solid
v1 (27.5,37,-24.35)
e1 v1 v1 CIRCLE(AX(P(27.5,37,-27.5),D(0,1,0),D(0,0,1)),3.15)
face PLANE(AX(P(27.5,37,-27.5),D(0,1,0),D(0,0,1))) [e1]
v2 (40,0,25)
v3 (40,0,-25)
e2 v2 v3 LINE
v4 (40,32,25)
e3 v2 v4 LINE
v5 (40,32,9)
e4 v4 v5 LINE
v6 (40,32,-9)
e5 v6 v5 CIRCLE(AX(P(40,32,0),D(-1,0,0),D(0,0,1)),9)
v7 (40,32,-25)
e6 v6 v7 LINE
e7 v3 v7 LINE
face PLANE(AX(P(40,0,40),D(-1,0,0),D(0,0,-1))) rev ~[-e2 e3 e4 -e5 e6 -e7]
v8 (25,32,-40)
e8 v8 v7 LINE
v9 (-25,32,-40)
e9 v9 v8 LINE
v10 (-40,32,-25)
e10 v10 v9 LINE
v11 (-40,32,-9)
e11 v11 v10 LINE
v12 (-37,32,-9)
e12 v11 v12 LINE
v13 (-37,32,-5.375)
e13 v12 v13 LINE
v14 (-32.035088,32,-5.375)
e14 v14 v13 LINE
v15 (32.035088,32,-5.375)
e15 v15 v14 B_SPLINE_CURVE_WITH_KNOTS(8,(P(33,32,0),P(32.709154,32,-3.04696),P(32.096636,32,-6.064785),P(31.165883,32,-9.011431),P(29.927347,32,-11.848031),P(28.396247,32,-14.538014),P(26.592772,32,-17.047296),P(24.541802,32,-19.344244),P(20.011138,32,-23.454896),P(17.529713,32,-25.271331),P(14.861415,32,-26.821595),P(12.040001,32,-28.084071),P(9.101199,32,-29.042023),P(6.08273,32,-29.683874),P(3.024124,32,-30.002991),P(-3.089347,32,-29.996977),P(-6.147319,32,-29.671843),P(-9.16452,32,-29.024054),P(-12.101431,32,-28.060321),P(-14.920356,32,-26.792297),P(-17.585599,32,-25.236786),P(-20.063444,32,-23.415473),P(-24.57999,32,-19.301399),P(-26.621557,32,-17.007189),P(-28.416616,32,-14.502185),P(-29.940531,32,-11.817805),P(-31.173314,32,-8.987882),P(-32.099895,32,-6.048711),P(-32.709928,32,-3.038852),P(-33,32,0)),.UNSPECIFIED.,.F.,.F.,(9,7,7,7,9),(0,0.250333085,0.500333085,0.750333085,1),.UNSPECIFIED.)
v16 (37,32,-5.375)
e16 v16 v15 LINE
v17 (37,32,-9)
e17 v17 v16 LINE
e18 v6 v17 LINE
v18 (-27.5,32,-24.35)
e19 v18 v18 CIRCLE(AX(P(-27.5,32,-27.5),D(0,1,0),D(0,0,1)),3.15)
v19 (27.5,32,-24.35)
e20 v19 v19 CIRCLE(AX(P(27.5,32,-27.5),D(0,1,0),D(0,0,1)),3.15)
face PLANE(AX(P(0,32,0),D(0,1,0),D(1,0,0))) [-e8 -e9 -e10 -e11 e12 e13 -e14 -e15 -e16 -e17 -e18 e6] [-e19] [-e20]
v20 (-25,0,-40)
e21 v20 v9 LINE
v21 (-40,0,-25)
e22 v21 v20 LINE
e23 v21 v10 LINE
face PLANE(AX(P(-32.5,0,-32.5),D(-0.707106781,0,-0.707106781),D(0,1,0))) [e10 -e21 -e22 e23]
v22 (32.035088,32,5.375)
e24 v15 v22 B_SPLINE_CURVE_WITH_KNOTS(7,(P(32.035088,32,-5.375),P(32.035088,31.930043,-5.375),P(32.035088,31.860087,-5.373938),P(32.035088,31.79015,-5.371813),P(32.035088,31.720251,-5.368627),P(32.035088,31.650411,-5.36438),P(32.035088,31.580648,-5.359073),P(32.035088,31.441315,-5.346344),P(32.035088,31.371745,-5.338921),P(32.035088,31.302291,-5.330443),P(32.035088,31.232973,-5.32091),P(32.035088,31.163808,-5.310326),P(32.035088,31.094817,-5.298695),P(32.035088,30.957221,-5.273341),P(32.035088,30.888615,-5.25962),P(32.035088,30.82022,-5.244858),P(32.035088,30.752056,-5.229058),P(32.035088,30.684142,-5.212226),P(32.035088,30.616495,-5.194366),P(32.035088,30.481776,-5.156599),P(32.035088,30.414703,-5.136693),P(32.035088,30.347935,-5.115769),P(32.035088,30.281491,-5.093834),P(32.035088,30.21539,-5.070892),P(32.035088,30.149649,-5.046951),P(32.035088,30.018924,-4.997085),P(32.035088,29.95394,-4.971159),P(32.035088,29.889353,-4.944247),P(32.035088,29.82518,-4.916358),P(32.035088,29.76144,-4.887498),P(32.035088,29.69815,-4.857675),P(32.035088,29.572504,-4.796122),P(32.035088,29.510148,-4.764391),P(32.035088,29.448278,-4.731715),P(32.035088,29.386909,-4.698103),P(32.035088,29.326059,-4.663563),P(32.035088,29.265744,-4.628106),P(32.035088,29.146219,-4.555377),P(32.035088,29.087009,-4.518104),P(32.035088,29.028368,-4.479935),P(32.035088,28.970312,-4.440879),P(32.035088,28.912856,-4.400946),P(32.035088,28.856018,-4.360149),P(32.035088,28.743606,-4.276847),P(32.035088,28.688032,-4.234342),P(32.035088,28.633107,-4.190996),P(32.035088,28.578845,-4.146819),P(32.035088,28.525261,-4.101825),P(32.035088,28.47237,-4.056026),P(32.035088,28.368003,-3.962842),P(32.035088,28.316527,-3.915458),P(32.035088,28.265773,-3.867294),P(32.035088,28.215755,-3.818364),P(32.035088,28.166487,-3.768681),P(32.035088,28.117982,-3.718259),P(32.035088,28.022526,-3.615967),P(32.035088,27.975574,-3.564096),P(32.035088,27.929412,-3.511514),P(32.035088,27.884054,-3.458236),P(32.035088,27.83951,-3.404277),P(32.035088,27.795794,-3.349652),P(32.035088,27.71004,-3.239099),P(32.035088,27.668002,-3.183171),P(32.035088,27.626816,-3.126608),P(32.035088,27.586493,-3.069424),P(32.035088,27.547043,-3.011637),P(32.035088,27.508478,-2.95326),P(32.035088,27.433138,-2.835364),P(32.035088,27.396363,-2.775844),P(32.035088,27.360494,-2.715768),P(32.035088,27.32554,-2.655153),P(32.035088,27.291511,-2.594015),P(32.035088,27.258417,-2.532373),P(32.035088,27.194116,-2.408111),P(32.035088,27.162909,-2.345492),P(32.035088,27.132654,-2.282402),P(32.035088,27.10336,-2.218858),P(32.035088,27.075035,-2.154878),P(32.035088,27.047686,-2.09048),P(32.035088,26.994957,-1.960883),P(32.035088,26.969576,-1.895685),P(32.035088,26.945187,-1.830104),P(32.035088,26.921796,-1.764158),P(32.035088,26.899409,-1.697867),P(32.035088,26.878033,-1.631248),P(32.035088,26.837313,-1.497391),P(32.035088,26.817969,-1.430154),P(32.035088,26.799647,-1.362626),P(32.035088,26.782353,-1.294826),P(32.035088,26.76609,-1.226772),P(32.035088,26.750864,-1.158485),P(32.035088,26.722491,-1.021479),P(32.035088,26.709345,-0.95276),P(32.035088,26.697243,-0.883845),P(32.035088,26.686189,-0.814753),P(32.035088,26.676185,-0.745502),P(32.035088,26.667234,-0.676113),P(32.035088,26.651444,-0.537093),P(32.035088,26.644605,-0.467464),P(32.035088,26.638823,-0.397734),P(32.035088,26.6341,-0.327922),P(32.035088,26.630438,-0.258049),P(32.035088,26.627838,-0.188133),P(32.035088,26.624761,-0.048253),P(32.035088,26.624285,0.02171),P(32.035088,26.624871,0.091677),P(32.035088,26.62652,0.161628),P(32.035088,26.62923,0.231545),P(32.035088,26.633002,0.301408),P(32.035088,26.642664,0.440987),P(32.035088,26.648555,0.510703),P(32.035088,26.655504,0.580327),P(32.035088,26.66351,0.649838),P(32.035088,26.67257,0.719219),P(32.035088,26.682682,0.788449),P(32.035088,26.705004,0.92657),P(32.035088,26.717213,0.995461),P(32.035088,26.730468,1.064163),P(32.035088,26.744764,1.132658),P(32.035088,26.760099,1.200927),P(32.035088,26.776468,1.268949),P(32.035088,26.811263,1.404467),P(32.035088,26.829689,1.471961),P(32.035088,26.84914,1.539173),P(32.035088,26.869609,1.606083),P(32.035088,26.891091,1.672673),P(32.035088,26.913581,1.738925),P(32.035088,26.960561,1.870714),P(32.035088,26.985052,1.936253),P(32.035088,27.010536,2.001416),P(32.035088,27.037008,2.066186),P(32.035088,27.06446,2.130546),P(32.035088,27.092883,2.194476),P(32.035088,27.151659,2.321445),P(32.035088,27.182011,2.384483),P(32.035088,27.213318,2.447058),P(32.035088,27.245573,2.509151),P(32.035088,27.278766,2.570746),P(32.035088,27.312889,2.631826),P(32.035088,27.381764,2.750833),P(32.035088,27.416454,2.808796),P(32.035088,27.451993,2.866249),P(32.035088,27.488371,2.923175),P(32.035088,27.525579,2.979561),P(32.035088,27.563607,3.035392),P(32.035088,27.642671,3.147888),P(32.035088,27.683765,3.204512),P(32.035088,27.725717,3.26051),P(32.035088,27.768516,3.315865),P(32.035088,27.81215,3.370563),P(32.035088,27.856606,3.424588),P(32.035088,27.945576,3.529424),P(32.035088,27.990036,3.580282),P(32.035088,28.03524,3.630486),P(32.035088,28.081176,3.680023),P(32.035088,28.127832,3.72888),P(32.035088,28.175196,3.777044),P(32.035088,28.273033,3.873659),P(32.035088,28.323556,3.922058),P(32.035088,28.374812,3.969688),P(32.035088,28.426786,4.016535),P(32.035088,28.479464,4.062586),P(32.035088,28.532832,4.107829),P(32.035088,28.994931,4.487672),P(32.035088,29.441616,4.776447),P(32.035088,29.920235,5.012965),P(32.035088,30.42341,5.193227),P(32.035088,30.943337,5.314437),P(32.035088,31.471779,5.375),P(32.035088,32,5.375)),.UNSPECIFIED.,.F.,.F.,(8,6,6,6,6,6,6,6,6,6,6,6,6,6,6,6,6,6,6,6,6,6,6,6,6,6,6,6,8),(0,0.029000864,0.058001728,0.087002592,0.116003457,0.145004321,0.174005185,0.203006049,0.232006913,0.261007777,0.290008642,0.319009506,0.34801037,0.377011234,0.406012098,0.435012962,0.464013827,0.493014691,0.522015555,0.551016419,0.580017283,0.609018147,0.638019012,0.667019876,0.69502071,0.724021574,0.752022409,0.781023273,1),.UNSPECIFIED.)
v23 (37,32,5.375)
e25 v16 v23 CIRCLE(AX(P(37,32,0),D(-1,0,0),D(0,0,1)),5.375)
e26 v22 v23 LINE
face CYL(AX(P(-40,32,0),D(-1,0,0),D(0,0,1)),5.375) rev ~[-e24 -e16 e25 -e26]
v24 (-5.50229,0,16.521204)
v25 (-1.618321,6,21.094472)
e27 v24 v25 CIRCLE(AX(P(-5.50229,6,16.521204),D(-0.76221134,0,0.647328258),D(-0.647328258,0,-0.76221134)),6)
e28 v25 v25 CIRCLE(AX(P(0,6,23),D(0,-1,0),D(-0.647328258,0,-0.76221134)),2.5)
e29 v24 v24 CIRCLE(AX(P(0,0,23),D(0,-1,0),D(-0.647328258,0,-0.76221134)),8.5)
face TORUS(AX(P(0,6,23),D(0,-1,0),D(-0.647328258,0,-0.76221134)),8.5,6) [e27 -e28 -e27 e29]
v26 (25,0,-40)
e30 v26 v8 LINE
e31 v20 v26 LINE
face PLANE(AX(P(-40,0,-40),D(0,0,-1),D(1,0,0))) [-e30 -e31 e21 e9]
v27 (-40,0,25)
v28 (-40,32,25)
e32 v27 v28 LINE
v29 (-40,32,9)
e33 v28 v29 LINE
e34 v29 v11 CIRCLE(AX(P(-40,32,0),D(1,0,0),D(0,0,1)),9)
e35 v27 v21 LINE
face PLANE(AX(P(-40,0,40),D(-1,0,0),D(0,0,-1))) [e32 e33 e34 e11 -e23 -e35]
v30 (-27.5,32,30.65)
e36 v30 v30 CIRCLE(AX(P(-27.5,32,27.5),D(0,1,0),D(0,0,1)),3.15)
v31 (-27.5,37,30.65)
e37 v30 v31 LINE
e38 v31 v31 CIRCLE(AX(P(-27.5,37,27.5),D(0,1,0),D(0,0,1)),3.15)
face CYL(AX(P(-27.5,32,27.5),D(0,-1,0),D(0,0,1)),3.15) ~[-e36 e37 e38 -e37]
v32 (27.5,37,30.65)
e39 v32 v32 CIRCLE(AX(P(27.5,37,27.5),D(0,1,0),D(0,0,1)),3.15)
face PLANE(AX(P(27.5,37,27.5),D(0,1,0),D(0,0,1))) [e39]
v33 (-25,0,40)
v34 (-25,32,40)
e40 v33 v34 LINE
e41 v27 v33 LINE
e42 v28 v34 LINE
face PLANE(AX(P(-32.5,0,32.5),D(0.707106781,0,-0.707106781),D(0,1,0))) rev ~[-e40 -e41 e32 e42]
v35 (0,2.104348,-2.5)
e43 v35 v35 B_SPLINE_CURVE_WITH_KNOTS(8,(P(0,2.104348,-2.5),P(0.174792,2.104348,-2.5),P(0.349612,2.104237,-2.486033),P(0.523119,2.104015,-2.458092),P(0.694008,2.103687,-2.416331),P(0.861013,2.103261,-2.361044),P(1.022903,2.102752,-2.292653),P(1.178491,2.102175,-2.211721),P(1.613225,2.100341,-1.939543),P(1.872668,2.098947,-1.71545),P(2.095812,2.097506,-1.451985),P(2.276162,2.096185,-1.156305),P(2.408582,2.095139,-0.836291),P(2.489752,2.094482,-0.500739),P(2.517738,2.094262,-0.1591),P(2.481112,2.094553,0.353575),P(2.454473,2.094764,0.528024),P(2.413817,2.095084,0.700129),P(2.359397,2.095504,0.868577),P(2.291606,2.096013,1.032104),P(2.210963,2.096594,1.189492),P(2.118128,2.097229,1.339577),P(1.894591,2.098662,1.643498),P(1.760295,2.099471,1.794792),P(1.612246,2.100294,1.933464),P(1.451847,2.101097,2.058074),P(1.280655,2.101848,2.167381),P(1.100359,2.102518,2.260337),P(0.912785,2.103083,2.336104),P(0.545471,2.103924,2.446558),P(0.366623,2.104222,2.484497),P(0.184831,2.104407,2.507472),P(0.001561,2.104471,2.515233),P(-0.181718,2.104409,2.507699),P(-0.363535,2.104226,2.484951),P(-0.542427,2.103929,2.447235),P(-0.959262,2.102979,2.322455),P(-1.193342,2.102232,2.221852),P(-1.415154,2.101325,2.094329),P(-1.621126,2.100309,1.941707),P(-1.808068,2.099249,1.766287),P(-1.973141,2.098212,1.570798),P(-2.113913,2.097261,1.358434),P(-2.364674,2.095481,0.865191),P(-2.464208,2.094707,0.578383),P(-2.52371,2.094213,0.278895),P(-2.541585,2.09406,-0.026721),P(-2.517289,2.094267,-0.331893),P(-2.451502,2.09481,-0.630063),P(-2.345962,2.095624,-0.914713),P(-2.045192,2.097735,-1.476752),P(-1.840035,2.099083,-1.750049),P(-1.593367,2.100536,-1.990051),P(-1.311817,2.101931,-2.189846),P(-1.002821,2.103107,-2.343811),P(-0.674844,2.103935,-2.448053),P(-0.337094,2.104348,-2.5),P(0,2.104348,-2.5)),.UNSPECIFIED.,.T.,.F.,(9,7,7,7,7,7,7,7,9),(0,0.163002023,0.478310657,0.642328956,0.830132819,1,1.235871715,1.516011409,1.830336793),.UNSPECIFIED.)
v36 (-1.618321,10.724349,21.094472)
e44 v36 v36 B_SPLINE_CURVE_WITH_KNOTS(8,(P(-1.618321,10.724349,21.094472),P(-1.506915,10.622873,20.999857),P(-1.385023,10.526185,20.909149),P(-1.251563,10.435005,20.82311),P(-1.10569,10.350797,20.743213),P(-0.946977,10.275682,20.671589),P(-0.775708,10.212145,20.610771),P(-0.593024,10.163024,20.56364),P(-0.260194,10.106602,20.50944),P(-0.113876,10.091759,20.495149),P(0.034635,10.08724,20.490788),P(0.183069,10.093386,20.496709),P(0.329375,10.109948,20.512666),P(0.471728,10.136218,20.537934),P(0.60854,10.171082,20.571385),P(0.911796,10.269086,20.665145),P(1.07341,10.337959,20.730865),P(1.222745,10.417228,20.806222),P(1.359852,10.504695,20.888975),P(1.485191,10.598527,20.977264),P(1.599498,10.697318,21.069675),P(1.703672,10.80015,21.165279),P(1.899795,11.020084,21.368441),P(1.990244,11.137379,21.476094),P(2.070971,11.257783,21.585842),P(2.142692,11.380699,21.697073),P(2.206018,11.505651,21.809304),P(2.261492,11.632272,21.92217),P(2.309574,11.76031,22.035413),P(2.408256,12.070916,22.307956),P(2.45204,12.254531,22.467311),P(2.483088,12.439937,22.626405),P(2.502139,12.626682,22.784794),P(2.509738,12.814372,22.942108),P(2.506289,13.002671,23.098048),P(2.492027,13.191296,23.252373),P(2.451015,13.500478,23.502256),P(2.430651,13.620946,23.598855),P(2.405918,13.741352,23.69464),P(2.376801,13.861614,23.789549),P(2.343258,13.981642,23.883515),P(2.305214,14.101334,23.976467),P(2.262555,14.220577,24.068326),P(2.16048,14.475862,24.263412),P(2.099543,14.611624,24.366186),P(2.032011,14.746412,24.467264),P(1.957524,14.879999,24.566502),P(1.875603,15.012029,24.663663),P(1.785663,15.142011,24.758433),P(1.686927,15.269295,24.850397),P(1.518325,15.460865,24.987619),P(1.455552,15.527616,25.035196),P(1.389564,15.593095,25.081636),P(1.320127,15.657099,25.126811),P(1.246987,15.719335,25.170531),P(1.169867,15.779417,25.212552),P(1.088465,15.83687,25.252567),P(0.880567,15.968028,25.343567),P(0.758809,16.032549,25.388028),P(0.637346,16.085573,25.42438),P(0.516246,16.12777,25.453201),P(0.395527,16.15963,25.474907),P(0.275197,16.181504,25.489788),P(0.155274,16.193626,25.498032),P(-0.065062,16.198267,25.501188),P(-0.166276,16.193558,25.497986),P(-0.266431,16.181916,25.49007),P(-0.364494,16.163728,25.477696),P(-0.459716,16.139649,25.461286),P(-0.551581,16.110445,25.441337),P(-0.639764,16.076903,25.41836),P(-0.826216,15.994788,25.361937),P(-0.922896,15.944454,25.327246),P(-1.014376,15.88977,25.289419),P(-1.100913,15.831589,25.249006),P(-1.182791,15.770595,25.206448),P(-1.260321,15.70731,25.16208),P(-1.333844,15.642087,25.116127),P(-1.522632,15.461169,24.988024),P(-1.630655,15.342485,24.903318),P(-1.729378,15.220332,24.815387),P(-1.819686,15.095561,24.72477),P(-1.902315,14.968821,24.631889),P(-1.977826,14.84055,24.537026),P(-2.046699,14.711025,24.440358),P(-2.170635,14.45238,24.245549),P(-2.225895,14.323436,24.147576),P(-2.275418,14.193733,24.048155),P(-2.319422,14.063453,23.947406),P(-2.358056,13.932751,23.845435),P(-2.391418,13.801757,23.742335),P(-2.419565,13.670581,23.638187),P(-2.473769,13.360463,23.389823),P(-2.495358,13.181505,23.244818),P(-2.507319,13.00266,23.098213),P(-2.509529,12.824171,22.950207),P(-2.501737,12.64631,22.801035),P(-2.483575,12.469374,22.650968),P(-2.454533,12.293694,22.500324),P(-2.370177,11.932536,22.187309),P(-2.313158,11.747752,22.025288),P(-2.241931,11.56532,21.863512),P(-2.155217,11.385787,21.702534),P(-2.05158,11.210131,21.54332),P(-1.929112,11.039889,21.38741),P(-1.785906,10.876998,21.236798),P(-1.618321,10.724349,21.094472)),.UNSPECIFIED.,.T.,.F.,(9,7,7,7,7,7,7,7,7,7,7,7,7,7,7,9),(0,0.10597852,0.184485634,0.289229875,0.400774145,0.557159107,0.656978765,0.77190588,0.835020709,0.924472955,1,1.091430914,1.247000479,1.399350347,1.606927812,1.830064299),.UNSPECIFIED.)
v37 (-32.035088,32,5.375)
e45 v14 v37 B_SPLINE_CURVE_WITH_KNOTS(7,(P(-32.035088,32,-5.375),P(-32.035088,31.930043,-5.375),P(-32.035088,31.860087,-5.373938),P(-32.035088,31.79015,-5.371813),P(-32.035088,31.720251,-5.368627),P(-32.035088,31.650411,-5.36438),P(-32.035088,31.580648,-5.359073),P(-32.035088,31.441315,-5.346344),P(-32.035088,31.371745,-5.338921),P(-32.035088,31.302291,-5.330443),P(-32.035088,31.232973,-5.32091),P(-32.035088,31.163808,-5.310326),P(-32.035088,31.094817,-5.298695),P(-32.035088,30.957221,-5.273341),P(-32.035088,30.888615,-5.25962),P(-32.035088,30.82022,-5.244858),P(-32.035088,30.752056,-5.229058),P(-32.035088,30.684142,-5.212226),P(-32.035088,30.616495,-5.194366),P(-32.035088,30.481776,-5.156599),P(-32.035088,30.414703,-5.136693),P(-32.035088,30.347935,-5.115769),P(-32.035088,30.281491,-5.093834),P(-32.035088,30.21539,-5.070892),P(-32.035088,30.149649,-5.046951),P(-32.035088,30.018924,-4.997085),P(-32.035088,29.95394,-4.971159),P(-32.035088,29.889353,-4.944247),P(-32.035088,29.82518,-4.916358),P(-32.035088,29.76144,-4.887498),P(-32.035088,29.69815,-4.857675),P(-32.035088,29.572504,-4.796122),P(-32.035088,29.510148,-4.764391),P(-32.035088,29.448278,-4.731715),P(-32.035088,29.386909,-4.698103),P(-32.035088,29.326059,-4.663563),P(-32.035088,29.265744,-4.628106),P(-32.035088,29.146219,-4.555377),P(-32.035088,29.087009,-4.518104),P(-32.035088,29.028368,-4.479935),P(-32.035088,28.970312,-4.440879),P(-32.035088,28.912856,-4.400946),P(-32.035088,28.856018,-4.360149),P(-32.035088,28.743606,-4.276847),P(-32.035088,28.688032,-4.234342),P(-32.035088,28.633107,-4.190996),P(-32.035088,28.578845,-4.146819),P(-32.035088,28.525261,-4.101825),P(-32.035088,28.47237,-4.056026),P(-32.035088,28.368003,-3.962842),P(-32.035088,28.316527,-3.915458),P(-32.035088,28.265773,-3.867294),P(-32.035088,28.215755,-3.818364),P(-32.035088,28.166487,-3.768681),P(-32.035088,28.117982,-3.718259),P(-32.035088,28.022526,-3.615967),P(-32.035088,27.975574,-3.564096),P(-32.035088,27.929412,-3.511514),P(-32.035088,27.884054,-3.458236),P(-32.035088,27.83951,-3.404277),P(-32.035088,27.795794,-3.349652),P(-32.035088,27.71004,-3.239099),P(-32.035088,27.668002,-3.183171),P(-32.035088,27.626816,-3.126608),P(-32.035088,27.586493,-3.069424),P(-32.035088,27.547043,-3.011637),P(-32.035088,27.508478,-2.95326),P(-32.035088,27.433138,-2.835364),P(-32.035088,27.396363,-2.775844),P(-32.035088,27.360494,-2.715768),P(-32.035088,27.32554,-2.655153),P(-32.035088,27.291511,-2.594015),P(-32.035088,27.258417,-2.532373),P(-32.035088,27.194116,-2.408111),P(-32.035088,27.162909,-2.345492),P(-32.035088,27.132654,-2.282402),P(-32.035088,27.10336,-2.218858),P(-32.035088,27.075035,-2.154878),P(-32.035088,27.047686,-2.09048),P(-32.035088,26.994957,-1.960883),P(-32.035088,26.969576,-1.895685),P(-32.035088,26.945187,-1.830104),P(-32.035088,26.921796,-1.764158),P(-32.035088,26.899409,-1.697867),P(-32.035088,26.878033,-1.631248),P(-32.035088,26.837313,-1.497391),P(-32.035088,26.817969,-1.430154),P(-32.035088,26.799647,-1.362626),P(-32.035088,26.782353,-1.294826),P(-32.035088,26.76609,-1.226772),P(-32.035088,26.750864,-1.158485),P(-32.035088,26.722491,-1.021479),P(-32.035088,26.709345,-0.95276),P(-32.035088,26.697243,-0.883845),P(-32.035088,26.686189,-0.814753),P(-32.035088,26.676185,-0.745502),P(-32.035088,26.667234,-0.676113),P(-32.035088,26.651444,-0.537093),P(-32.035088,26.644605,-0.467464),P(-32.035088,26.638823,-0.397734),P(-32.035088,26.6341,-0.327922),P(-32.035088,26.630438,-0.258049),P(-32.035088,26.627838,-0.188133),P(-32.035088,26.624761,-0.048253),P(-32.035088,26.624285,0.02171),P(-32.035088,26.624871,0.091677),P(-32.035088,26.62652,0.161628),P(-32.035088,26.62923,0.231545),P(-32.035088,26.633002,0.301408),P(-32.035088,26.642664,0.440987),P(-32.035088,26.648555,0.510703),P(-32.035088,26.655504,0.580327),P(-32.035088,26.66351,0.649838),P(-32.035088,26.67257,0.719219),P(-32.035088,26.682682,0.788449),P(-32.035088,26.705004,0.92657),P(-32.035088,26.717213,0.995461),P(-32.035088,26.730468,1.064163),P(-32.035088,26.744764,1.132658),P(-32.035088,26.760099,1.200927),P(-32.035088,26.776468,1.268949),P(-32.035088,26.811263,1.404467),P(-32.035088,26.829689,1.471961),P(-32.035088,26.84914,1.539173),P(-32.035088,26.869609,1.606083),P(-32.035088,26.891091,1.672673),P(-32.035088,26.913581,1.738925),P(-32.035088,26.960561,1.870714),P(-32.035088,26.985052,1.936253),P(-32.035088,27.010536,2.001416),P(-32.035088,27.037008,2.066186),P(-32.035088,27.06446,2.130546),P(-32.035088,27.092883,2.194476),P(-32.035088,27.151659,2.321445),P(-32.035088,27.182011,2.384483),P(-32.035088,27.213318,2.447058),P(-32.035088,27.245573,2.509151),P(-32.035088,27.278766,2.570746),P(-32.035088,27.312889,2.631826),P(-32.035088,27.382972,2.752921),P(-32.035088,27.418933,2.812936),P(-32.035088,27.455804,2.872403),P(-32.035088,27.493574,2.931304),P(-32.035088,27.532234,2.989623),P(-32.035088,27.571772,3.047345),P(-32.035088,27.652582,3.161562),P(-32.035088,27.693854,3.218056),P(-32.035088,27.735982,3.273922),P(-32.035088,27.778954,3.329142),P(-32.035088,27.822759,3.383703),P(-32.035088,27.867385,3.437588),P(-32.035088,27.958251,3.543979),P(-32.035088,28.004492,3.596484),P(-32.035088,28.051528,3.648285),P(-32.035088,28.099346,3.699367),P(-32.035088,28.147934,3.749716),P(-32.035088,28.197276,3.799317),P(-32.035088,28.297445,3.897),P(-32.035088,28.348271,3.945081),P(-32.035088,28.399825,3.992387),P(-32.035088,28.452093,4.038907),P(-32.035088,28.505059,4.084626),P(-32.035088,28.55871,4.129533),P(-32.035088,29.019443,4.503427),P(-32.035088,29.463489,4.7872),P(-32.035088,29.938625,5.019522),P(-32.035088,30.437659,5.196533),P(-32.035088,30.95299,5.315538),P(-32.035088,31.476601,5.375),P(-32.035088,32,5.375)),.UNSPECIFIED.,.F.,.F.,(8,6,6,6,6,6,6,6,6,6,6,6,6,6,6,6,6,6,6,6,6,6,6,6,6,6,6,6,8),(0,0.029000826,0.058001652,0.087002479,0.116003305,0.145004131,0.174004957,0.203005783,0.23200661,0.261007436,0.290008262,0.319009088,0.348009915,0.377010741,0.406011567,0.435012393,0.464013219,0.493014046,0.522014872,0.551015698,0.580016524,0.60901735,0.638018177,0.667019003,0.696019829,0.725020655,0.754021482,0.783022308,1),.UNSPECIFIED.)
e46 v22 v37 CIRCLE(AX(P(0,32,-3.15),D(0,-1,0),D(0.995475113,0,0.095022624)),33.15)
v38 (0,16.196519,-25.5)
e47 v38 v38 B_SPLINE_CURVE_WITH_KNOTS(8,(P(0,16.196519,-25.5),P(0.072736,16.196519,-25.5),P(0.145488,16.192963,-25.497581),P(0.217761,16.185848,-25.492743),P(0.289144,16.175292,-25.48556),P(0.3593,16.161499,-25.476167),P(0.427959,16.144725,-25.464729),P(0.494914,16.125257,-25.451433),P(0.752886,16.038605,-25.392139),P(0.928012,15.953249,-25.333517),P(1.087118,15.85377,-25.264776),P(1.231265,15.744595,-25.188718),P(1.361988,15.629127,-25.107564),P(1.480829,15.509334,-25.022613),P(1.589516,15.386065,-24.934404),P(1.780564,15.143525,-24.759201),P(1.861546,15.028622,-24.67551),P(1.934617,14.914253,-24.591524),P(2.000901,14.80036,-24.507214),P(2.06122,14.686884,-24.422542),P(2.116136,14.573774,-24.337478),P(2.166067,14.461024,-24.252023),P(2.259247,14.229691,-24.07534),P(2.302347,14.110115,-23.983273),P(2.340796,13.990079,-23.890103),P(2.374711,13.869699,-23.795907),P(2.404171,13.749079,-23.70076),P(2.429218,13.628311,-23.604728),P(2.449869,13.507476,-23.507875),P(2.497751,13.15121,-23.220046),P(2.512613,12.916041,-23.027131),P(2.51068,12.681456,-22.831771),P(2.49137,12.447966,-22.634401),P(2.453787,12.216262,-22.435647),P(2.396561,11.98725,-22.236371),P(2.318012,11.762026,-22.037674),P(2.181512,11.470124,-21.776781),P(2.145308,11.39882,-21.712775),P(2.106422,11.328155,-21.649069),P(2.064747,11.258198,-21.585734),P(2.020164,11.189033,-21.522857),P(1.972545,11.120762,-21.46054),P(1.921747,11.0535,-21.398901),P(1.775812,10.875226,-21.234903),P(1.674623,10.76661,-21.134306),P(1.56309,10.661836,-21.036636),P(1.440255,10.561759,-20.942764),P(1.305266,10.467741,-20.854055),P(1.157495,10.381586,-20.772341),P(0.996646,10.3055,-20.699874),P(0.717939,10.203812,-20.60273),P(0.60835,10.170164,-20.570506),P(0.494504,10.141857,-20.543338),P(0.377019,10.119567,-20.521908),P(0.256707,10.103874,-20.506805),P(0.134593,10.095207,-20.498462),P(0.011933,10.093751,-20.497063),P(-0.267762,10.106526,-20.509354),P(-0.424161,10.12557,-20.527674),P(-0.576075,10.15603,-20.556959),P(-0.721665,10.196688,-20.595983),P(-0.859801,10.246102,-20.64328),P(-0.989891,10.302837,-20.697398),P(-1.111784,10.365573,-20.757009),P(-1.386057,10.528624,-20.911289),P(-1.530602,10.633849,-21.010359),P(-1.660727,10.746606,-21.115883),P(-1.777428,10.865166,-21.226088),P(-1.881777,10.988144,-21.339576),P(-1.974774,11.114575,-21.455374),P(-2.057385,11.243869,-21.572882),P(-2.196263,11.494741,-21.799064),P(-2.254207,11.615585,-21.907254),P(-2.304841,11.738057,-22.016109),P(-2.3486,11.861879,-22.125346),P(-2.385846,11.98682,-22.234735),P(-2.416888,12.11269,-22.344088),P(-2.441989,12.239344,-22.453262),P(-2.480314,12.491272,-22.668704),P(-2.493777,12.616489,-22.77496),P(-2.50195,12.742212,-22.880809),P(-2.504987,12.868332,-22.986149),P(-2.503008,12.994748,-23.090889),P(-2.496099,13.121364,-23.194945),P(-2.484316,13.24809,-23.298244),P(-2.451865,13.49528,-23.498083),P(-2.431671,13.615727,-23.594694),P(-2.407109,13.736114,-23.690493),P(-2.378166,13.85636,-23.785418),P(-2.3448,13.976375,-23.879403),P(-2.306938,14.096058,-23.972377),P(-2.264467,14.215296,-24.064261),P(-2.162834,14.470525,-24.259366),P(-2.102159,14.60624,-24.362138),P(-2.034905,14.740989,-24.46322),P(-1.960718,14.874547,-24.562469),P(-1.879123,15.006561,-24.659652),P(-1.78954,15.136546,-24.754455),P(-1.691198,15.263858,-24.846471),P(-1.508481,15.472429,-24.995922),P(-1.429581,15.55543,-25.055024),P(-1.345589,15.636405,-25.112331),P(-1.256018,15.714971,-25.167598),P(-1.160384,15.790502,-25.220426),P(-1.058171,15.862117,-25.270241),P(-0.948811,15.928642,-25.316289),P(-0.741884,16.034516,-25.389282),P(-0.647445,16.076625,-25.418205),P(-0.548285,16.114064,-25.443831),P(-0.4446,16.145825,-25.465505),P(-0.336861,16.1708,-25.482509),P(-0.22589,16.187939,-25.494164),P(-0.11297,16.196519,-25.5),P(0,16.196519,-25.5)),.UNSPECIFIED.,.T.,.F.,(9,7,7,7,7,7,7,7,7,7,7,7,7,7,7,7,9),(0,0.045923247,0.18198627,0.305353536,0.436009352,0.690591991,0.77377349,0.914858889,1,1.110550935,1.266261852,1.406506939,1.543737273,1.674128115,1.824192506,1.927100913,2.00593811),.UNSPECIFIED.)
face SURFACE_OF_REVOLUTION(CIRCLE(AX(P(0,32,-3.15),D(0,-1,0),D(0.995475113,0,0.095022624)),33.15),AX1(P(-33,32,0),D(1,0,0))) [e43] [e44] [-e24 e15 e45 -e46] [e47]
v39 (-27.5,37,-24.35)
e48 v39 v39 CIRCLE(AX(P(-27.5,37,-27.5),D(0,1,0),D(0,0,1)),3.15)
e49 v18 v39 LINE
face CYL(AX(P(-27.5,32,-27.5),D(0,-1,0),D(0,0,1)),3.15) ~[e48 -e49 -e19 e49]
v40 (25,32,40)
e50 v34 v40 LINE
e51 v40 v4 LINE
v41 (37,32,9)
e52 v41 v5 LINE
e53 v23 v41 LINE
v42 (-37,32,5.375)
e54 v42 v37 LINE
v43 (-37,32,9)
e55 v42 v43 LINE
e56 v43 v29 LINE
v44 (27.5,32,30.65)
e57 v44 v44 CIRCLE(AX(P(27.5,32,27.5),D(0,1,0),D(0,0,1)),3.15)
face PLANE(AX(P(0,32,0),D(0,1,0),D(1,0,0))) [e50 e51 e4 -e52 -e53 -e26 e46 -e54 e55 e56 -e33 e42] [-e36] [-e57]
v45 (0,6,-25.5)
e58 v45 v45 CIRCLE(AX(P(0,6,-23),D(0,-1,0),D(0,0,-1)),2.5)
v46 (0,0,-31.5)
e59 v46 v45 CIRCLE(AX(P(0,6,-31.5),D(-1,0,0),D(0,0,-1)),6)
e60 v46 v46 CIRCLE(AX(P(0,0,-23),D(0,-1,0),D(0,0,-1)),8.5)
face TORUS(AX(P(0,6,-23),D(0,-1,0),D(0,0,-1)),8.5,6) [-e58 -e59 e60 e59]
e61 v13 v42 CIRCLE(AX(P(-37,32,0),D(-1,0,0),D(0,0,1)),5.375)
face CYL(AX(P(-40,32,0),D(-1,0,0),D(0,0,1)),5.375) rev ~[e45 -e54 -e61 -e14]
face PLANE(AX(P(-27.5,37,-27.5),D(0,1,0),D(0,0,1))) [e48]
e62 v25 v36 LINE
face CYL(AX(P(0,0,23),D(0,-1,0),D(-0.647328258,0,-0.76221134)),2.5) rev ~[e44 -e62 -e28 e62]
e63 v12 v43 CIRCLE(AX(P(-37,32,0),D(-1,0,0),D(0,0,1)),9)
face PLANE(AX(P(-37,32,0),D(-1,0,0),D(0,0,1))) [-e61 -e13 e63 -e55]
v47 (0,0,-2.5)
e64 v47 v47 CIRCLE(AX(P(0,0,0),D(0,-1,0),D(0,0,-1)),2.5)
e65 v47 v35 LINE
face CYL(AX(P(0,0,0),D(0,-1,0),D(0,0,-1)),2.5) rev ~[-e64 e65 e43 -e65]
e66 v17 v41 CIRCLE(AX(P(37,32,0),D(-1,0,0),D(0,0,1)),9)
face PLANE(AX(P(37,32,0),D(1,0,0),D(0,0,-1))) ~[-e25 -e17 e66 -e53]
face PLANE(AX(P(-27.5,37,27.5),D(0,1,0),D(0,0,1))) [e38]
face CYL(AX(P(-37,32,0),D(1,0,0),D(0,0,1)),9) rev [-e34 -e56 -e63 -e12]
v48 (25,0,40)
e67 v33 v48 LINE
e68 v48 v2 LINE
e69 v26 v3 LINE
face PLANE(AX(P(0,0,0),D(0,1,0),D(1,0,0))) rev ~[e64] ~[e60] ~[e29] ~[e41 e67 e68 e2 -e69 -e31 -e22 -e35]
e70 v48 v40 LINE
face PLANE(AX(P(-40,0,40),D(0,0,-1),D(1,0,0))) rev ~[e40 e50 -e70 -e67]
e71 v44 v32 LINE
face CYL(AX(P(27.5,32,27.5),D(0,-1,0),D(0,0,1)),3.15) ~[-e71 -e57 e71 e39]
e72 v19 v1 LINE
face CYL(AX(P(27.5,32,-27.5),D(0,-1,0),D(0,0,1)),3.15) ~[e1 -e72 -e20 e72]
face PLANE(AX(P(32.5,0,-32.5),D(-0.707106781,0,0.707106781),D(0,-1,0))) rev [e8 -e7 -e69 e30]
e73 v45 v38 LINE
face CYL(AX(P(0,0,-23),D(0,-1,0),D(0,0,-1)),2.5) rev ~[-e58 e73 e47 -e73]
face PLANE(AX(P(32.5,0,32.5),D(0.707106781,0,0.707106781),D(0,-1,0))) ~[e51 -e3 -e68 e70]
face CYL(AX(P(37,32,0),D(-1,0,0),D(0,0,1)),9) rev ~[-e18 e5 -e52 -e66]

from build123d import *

# Parameters (mm, degrees)
SKETCH1_W           = 80
SKETCH1_H           = 80
BOSS_EXTRUDE1_DEPTH = 32
SKETCH3_R           = 5.375
CUT_EXTRUDE1_DEPTH  = 95.994736856
CHAMFER1_SIZE       = 15
SKETCH5_R           = 9
CUT_EXTRUDE3_DEPTH  = 93.482430925
SKETCH4_R           = 3.15
BOSS_EXTRUDE3_DEPTH = 5
CUT_EXTRUDE4_REACH  = 69.594
SKETCH6_R           = 2.5
FILLET1_R           = 6


with BuildPart() as part:
    # Sketch1 → Boss-Extrude1 (new body)
    with BuildSketch(Plane(origin=(0, 0, 0), x_dir=(1, 0, 0), z_dir=(0, 1, 0))):
        Rectangle(SKETCH1_W, SKETCH1_H)
    extrude(amount=BOSS_EXTRUDE1_DEPTH)

    # Sketch2 → Cut-Revolve1 (revolve, cut)
    with BuildSketch(Plane(origin=(0, 32, 0), x_dir=(1, 0, 0), z_dir=(0, 1, 0))):
        with BuildLine():
            Line((-33, 0), (33, 0))
            ThreePointArc((33, 0), (0, -30), (-33, 0))
        make_face()
    revolve(axis=Axis((-33, 32, 0), (1, 0, 0)), mode=Mode.SUBTRACT)

    # Sketch3 → Cut-Extrude1 (cut, through all)
    with BuildSketch(Plane.ZY.offset(40)):
        with Locations((0, 32)):
            Circle(SKETCH3_R)
    extrude(amount=-CUT_EXTRUDE1_DEPTH, mode=Mode.SUBTRACT)

    # Chamfer1
    chamfer1_edges = [part.edges().sort_by_distance(p)[0] for p in [
        (40, 16, 40),
        (-40, 16, 40),
        (-40, 16, -40),
        (40, 16, -40),
    ]]
    chamfer(chamfer1_edges, length=CHAMFER1_SIZE)

    # Sketch5 → Cut-Extrude3 (cut, through all)
    with BuildSketch(Plane.ZY.offset(37)):
        with Locations((0, 32)):
            Circle(SKETCH5_R)
    cut_extrude3 = extrude(amount=CUT_EXTRUDE3_DEPTH, mode=Mode.SUBTRACT)

    # Mirror1: Cut-Extrude3 across plane
    add(cut_extrude3.mirror(Plane(origin=(0, 0, 0), x_dir=(0, 0, 1), z_dir=(1, 0, 0))), mode=Mode.SUBTRACT)

    # Sketch4 → Boss-Extrude3 (add)
    with BuildSketch(Plane(origin=(0, 32, 0), x_dir=(1, 0, 0), z_dir=(0, 1, 0))):
        with Locations(Location((-27.5, 27.5, 0), (0, 0, 270))):
            Circle(SKETCH4_R)
        with Locations(Location((27.5, 27.5, 0), (0, 0, 270))):
            Circle(SKETCH4_R)
        with Locations(Location((27.5, -27.5, 0), (0, 0, 270))):
            Circle(SKETCH4_R)
        with Locations(Location((-27.5, -27.5, 0), (0, 0, 270))):
            Circle(SKETCH4_R)
    extrude(amount=BOSS_EXTRUDE3_DEPTH)

    # Sketch6 → Cut-Extrude4 (cut, up to next)
    with BuildSketch(Plane.XZ, mode=Mode.PRIVATE) as cut_extrude4_sk1:
        with Locations(Location((0, -23, 0), (0, 0, 270))):
            Circle(SKETCH6_R)
    cut_extrude4_tool1 = extrude(cut_extrude4_sk1.sketch, amount=-CUT_EXTRUDE4_REACH, mode=Mode.PRIVATE) & part.part
    # Sketch6 → Cut-Extrude4 (cut, up to next)
    with BuildSketch(Plane.XZ, mode=Mode.PRIVATE) as cut_extrude4_sk2:
        with Locations(Location((0, 23, 0), (0, 0, 229.659534443))):
            Circle(SKETCH6_R)
    cut_extrude4_tool2 = extrude(cut_extrude4_sk2.sketch, amount=-CUT_EXTRUDE4_REACH, mode=Mode.PRIVATE) & part.part
    # Sketch6 → Cut-Extrude4 (cut, up to next)
    with BuildSketch(Plane.XZ, mode=Mode.PRIVATE) as cut_extrude4_sk3:
        with Locations(Location((0, 0, 0), (0, 0, 270))):
            Circle(SKETCH6_R)
    cut_extrude4_tool3 = extrude(cut_extrude4_sk3.sketch, amount=-CUT_EXTRUDE4_REACH, mode=Mode.PRIVATE) & part.part
    add(cut_extrude4_tool1.solids().sort_by_distance((0, 0, -23))[0], mode=Mode.SUBTRACT)
    add(cut_extrude4_tool2.solids().sort_by_distance((0, 0, 23))[0], mode=Mode.SUBTRACT)
    add(cut_extrude4_tool3.solids().sort_by_distance((0, 0, 0))[0], mode=Mode.SUBTRACT)

    # Fillet1
    fillet1_edges = [part.edges().sort_by_distance(p)[0] for p in [
        (0, 0, -20.5),
        (1.618320645, 0, 24.905528349),
    ]]
    fillet(fillet1_edges, radius=FILLET1_R)


solid = part.part
